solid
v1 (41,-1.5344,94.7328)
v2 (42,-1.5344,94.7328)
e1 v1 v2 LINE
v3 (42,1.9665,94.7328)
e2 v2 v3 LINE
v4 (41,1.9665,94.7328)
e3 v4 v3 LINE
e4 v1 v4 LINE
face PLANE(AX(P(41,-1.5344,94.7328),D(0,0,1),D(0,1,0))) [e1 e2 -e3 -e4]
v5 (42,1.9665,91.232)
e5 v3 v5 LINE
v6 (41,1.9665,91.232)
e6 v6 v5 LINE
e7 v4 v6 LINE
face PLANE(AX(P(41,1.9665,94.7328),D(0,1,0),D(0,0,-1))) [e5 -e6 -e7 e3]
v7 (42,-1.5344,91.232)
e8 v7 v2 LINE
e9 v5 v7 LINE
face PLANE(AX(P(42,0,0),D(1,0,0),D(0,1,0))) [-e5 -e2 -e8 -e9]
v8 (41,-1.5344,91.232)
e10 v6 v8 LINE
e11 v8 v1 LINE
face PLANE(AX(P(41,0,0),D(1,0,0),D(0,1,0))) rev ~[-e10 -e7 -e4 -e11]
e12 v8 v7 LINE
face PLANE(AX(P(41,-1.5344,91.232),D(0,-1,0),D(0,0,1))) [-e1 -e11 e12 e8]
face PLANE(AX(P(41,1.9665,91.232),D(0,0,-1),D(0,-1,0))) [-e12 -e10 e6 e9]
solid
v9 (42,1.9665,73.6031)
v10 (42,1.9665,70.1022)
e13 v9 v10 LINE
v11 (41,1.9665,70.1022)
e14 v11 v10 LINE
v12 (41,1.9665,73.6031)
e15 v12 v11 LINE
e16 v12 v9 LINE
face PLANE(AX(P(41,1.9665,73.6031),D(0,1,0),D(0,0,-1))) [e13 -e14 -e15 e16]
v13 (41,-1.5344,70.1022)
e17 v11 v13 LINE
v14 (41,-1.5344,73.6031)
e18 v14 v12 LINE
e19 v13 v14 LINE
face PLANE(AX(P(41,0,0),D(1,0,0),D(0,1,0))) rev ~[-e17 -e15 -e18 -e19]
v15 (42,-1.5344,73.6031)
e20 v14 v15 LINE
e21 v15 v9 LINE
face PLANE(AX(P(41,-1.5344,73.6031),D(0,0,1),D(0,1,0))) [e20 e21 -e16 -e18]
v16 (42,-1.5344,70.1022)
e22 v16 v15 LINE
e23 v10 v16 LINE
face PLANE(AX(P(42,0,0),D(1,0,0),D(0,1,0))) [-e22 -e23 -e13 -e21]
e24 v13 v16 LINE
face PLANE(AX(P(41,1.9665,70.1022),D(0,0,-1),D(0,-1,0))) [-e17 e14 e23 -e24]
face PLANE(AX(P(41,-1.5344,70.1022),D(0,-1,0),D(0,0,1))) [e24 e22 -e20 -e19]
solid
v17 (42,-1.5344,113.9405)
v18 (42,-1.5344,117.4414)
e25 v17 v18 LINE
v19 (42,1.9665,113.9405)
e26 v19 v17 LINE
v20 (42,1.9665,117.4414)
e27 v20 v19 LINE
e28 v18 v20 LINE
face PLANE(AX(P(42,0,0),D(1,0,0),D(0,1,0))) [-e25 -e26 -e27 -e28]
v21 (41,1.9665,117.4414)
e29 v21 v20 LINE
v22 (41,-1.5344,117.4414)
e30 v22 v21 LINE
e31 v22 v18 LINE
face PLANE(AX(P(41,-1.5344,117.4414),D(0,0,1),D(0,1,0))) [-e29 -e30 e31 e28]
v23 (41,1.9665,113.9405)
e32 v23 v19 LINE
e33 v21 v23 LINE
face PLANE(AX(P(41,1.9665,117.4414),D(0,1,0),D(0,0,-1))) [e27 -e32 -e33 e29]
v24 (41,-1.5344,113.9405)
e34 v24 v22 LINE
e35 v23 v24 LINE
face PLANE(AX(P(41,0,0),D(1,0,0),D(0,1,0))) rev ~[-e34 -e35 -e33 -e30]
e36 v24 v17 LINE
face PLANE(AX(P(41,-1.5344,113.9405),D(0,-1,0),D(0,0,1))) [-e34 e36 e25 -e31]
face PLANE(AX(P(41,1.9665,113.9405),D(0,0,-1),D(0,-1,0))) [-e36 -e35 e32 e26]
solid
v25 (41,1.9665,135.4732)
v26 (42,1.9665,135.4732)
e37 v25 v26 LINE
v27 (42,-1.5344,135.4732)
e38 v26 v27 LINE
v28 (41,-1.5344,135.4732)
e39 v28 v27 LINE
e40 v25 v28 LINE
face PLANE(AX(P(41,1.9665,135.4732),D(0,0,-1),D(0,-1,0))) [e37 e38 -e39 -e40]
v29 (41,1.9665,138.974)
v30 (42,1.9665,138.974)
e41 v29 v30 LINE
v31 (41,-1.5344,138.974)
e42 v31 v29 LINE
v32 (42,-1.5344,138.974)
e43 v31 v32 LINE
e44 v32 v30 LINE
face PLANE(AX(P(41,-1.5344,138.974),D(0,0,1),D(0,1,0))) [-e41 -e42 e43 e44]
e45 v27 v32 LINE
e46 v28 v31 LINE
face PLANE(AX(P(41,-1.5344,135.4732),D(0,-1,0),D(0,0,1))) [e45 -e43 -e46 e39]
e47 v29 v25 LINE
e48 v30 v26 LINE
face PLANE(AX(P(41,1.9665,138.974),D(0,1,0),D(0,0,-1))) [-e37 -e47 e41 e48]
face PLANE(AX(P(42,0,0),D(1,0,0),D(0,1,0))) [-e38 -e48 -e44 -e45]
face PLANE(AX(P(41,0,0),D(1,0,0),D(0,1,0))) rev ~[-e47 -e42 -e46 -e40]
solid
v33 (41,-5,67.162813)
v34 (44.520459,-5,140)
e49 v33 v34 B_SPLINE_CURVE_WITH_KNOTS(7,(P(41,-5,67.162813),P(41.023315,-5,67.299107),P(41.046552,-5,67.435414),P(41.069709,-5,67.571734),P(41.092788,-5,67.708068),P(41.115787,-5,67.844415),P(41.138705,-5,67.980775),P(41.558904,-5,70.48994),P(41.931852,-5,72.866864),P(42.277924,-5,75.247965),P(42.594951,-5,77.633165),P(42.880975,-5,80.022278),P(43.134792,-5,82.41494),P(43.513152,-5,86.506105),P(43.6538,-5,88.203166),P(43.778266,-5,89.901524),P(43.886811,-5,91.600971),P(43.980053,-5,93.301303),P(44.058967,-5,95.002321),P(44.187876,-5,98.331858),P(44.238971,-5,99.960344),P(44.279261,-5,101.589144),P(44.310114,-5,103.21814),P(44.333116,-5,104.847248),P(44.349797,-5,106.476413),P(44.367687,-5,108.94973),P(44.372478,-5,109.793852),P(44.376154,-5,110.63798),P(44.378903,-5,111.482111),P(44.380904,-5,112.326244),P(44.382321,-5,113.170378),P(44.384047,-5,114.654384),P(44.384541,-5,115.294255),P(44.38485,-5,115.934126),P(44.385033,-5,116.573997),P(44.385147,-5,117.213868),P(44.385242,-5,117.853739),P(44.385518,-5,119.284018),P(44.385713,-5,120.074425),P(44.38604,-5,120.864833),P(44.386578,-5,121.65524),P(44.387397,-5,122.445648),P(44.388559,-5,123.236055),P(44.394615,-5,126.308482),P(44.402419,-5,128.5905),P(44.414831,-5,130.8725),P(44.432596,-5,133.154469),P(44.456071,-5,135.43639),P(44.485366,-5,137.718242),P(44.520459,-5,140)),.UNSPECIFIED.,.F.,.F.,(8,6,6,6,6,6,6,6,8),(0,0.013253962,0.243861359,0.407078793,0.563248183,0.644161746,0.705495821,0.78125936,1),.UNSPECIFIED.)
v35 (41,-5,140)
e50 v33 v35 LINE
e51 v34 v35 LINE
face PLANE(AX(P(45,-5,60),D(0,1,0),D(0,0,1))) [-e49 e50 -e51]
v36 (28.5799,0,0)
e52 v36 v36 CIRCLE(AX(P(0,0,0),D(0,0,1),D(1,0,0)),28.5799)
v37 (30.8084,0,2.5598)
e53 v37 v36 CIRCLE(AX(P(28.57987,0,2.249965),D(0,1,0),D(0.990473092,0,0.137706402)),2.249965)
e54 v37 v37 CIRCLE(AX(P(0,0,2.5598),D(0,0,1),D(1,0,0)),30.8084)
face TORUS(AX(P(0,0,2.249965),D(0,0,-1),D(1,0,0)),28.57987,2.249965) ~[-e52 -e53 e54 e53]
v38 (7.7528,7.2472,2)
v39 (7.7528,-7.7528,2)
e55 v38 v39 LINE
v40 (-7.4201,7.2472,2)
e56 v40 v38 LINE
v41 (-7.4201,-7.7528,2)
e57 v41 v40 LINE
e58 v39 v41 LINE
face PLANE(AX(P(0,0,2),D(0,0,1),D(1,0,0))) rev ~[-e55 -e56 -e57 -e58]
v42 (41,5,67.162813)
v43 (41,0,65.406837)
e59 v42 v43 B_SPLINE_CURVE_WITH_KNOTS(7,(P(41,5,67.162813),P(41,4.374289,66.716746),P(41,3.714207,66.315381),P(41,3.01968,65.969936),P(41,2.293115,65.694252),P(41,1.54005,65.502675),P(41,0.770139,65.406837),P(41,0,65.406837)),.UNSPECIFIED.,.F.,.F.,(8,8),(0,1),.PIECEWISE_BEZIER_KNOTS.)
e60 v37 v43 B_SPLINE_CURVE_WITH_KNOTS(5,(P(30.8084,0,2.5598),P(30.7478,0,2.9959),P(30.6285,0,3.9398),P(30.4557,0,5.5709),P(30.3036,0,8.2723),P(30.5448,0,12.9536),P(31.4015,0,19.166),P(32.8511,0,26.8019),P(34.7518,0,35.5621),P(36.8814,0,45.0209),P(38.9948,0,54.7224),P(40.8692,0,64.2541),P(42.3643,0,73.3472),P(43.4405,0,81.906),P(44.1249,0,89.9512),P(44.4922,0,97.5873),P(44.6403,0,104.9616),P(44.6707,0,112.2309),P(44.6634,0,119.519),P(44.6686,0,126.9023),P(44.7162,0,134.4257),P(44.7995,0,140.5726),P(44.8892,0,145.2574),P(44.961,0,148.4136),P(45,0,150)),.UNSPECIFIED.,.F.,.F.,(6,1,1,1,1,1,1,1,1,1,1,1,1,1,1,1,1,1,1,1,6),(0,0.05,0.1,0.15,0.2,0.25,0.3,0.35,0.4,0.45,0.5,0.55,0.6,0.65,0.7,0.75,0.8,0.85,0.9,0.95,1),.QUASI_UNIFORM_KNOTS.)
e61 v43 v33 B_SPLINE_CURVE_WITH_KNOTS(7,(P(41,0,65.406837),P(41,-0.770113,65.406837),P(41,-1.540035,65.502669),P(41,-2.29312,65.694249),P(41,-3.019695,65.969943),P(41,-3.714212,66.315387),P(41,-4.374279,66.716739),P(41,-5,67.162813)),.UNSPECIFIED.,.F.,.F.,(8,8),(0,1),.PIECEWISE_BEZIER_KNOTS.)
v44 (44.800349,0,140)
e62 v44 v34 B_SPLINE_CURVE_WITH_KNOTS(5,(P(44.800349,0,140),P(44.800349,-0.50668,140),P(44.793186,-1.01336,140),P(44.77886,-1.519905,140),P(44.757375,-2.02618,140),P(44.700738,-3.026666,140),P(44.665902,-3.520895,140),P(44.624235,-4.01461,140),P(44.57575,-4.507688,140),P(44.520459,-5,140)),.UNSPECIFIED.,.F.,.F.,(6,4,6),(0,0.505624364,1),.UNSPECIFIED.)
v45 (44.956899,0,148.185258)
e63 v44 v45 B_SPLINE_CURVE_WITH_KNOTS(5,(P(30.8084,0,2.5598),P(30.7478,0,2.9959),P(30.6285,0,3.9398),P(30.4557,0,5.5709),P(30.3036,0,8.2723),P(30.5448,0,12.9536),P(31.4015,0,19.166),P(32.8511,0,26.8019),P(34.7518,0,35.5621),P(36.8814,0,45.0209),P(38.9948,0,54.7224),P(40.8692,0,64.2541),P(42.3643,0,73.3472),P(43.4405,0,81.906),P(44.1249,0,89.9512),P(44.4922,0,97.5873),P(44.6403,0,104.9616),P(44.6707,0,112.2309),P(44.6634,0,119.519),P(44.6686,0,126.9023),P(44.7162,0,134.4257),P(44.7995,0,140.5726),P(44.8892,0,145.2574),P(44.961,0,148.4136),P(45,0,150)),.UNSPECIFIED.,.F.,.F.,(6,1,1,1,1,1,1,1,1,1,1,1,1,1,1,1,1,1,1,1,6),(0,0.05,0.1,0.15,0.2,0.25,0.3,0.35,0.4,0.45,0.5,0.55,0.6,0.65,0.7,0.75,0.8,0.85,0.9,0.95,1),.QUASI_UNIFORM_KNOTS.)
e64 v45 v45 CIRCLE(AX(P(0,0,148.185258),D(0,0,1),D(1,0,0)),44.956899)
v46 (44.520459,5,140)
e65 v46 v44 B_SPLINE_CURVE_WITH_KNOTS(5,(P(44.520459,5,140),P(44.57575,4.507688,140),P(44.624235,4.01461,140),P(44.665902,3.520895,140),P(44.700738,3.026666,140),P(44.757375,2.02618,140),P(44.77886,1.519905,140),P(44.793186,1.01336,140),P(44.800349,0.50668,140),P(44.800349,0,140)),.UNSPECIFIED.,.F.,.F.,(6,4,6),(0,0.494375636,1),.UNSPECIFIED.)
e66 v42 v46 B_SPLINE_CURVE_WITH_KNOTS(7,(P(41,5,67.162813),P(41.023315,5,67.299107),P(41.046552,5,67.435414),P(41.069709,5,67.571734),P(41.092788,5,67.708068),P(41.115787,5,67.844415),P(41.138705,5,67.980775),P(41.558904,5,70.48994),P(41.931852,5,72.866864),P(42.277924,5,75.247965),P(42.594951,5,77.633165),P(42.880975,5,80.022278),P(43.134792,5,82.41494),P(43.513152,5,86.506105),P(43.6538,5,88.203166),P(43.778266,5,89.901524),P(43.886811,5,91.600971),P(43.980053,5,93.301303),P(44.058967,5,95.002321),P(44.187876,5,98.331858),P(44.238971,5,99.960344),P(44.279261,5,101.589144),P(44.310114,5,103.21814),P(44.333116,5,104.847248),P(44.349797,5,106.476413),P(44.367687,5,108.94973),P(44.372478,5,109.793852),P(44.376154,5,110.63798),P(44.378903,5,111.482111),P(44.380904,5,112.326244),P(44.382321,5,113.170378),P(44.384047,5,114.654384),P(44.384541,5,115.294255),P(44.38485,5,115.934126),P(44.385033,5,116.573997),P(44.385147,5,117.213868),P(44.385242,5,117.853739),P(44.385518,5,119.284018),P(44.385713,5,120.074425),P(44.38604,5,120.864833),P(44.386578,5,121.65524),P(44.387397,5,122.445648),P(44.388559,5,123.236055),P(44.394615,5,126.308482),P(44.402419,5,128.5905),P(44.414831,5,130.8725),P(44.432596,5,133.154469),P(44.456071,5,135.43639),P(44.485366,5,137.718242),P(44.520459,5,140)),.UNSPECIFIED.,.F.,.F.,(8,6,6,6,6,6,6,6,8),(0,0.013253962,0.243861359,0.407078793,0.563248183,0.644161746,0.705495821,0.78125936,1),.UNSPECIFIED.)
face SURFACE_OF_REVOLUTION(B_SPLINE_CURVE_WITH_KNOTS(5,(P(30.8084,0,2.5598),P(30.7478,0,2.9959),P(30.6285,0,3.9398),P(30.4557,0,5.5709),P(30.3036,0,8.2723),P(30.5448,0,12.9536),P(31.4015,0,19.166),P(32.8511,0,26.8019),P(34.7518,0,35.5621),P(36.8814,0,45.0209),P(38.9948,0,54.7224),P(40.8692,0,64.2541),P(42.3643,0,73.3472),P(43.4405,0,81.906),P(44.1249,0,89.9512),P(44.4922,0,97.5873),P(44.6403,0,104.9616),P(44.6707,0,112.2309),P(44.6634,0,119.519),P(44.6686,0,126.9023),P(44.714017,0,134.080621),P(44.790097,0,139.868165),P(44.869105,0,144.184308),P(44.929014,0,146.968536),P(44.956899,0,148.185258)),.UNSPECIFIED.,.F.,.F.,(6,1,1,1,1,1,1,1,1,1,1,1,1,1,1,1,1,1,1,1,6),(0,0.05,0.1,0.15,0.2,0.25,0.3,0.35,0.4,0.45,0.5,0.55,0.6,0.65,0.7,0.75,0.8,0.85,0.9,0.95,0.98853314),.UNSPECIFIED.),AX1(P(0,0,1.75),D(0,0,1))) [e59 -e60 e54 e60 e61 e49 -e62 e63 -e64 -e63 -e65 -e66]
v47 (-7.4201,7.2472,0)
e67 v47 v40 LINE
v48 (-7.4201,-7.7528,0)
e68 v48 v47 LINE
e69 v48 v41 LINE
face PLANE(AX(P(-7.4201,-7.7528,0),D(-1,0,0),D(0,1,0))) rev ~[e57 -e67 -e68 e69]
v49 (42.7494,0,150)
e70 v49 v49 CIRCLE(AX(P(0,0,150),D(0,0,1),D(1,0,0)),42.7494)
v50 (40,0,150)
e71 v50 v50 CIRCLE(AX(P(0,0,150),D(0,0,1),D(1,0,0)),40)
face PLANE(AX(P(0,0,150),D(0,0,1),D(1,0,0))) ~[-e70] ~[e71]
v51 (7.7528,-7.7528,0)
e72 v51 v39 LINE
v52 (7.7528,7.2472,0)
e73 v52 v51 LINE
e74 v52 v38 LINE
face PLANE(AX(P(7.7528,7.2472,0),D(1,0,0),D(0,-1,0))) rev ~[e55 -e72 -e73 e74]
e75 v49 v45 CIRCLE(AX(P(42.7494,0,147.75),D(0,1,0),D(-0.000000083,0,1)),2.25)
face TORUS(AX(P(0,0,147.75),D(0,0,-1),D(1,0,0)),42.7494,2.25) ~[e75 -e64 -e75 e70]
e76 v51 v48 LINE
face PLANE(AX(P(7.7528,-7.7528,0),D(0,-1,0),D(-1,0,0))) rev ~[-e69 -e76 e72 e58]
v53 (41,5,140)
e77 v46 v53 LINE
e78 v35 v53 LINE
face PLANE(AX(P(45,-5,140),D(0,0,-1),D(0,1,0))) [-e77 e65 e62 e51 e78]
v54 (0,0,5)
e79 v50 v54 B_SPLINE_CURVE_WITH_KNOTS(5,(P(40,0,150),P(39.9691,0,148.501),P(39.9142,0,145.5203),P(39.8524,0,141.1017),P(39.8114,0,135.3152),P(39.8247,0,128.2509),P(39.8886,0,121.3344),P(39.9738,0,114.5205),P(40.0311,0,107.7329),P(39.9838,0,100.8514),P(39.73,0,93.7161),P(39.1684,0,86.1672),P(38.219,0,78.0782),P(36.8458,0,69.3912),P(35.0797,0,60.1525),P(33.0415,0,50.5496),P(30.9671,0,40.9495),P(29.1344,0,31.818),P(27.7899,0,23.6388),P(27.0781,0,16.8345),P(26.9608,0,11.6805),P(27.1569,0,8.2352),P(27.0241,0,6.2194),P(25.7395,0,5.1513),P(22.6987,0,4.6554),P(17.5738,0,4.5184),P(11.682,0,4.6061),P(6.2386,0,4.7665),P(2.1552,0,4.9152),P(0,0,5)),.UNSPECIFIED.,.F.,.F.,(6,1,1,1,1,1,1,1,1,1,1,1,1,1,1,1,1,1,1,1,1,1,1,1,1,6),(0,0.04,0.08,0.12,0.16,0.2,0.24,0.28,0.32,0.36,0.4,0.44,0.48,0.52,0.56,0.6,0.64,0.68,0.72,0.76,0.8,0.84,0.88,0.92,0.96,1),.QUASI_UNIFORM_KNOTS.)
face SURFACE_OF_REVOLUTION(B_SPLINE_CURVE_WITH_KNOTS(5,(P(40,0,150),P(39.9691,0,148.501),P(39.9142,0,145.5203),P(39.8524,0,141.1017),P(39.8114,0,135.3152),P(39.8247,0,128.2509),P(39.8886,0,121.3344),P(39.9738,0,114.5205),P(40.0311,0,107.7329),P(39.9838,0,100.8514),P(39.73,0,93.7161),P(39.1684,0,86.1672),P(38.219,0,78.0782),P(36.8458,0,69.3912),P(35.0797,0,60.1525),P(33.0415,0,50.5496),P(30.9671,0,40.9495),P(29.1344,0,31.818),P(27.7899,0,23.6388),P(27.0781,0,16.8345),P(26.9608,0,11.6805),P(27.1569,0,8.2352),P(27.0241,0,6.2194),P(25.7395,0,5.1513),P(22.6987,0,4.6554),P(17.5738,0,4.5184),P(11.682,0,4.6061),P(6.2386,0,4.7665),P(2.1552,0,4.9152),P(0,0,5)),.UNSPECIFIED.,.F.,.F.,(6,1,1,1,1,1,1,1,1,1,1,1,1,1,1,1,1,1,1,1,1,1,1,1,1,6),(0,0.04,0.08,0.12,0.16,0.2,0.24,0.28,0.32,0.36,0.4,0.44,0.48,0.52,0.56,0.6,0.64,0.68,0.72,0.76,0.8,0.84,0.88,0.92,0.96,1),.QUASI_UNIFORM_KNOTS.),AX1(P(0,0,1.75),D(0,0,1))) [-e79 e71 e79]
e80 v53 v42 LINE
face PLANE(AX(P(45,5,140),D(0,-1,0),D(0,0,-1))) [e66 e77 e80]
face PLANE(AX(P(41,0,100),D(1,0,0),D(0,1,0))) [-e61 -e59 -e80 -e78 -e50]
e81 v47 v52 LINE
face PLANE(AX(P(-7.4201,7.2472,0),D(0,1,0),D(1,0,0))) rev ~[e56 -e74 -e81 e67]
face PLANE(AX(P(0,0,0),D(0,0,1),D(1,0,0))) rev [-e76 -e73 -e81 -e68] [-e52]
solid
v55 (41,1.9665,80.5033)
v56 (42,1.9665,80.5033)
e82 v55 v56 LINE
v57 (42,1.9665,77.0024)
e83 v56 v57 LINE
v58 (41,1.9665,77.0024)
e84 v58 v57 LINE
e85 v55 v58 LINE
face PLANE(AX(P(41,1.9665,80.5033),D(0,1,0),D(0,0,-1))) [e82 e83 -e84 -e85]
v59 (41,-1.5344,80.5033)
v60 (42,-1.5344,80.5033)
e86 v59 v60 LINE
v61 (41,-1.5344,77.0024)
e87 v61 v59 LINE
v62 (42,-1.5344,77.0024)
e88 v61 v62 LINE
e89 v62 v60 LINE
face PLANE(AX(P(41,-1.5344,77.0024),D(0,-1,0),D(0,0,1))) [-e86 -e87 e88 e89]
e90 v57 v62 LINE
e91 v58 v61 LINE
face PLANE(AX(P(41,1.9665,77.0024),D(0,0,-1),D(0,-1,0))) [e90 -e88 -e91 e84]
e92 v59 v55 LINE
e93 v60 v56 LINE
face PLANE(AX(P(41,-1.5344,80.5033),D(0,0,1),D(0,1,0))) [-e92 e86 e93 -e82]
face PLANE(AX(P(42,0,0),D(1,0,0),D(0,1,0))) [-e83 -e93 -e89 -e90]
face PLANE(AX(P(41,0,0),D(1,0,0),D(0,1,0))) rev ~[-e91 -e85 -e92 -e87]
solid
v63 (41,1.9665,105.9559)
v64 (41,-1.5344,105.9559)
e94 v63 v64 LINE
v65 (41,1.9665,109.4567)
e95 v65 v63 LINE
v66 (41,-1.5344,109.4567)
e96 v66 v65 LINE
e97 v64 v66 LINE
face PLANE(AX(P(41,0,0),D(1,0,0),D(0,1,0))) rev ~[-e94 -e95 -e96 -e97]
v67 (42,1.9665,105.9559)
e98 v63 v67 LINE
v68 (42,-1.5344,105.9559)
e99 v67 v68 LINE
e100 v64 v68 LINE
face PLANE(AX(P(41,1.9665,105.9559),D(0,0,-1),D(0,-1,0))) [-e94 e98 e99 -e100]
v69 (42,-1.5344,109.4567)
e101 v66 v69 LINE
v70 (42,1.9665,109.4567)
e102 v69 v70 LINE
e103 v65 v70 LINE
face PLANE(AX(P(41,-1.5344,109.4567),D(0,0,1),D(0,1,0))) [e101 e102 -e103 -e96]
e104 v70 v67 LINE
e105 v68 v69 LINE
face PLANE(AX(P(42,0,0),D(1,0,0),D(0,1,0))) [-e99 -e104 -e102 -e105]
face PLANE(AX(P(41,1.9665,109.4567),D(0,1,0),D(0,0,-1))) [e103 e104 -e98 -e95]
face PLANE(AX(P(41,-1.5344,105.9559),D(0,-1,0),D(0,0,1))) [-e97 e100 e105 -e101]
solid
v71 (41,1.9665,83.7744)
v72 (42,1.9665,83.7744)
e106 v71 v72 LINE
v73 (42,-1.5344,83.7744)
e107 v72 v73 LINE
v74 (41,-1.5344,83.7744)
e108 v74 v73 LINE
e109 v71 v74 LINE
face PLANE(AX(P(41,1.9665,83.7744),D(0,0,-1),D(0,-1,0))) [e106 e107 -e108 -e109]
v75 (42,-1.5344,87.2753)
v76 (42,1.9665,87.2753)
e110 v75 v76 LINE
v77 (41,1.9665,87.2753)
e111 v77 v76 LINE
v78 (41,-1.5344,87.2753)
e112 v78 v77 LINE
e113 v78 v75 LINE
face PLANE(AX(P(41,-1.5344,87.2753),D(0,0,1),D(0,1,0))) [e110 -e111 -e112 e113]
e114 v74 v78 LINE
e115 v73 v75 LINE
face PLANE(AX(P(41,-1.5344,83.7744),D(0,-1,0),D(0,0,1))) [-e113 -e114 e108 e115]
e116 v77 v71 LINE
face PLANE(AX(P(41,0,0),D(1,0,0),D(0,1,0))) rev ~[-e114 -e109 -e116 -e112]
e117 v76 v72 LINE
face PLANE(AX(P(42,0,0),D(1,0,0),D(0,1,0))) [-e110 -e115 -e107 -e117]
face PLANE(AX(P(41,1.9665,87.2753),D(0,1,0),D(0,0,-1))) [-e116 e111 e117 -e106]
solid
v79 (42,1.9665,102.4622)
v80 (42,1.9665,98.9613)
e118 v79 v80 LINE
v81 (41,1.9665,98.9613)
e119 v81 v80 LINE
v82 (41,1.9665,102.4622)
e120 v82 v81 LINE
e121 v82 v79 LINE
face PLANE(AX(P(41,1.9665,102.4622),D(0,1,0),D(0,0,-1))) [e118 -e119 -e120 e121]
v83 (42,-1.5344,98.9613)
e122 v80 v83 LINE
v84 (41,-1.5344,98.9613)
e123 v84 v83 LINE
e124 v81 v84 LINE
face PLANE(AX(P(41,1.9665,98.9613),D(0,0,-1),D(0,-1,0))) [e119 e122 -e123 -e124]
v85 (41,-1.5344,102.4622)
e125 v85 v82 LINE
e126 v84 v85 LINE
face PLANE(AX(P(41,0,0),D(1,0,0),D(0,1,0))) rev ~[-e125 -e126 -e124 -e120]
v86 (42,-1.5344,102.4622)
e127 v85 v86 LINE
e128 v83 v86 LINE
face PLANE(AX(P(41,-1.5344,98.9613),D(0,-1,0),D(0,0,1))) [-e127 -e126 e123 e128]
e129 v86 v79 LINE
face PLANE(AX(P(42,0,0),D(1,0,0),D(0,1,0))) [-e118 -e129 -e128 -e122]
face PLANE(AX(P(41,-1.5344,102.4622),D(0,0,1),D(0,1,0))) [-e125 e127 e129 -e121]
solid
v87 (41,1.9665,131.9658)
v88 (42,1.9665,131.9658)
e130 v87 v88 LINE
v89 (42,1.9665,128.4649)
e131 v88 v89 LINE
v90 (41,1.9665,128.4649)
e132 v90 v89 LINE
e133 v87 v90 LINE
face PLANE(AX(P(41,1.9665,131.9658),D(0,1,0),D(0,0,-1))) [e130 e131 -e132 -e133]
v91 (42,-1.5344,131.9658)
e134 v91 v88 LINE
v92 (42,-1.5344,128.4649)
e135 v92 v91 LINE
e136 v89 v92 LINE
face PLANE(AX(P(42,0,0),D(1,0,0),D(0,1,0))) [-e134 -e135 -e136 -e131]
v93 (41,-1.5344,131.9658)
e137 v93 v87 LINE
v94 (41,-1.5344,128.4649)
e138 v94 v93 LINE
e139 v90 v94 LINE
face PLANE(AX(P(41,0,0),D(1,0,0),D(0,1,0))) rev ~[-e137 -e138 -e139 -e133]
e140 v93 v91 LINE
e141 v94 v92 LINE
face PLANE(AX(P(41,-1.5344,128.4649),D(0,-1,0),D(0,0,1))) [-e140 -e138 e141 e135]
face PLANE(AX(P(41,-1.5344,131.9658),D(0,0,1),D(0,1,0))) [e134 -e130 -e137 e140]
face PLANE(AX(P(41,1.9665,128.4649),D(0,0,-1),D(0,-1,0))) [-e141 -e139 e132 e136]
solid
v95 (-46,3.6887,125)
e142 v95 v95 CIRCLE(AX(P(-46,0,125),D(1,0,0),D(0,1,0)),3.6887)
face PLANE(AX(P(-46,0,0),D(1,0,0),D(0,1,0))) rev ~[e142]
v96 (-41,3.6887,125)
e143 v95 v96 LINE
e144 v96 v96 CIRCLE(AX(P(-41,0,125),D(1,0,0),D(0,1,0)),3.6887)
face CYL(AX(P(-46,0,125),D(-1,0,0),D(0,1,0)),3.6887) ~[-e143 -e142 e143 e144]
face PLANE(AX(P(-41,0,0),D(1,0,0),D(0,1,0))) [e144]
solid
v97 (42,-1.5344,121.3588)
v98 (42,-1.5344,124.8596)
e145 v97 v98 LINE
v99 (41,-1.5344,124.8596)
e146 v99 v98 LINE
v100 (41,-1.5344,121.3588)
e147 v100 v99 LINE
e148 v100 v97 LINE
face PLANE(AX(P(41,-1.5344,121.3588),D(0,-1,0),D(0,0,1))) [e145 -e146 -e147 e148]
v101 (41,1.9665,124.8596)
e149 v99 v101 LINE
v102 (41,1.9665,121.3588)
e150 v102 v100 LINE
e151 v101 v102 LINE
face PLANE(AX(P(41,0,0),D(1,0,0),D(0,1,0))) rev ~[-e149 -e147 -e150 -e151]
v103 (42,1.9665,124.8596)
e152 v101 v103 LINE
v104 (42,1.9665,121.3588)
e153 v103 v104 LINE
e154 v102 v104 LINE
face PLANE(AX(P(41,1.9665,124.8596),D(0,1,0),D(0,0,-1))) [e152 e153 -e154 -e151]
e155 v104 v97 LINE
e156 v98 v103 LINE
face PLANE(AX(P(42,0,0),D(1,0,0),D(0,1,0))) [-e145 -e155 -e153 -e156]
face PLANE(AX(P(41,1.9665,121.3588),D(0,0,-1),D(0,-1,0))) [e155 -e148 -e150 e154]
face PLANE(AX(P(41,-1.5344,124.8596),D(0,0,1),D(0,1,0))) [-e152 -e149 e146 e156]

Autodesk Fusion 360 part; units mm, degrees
sketch "Sketch3" plane through (0, 0, 95) normal (0, 0, 1) x (-1, 0, 0)
sketch "Sketch4" plane through (0, 0, 0) normal (0, 1, 0) x (1, 0, 0)
  line L0 (0, 0) -> (0.5, 0)
  line L1 (0, 0) -> (0.5, 0)
  line L2 (0.5, 0) -> (28.5799, 0)
  line L3 (0, 0) -> (0, -5)
  line L4 (40, -150) -> (42.7494, -150)
  spline S0 degree 5 poles (30.8084, -2.5598) (30.7478, -2.9959) (30.6285, -3.9398) (30.4557, -5.5709) (30.3036, -8.2723) (30.5448, -12.9536) (31.4015, -19.166) (32.8511, -26.8019) (34.7518, -35.5621) (36.8814, -45.0209) (38.9948, -54.7224) (40.8692, -64.2541) (42.3643, -73.3472) (43.4405, -81.906) (44.1249, -89.9512) (44.4922, -97.5873) (44.6403, -104.9616) (44.6707, -112.2309) (44.6634, -119.519) (44.6686, -126.9023) (44.7162, -134.4257) (44.7995, -140.5726) (44.8892, -145.2574) (44.961, -148.4136) (45, -150) knots 0 0 0 0 0 0 0.05 0.1 0.15 0.2 0.25 0.3 0.35 0.4 0.45 0.5 0.55 0.6 0.65 0.7 0.75 0.8 0.85 0.9 0.95 1 1 1 1 1 1
  arc A0 (30.8084, -2.5598) -> (28.5799, 0) centre (28.5799, -2.25) ccw
  arc A1 (42.7494, -150) -> (44.9994, -147.7487) centre (42.7494, -147.75) ccw
  spline S1 degree 5 poles (40, -150) (39.9691, -148.501) (39.9142, -145.5203) (39.8524, -141.1017) (39.8114, -135.3152) (39.8247, -128.2509) (39.8886, -121.3344) (39.9738, -114.5205) (40.0311, -107.7329) (39.9838, -100.8514) (39.73, -93.7161) (39.1684, -86.1672) (38.219, -78.0782) (36.8458, -69.3912) (35.0797, -60.1525) (33.0415, -50.5496) (30.9671, -40.9495) (29.1344, -31.818) (27.7899, -23.6388) (27.0781, -16.8345) (26.9608, -11.6805) (27.1569, -8.2352) (27.0241, -6.2194) (25.7395, -5.1513) (22.6987, -4.6554) (17.5738, -4.5184) (11.682, -4.6061) (6.2386, -4.7665) (2.1552, -4.9152) (0, -5) knots 0 0 0 0 0 0 0.04 0.08 0.12 0.16 0.2 0.24 0.28 0.32 0.36 0.4 0.44 0.48 0.52 0.56 0.6 0.64 0.68 0.72 0.76 0.8 0.84 0.88 0.92 0.96 1 1 1 1 1 1
  point P0 (30.5, 0)
  point P1 (30.5, -10.9625)
  point P2 (40, -60)
  point P3 (44.6467, -108.7425)
  point P4 (40, -110)
  point P5 (35, -60)
  point P6 (27.0469, -10.7982)
  point P7 (26.3491, -5.9135)
  dimension "d9" = 30
  dimension "d12" = 2.25
revolve "Revolve1" add sketch "Sketch4" angle 360 about axis through (0, 0, 1.75) along (0, 0, 1) makes body 1
sketch "Sketch5" plane through (0, 0, 0) normal (1, 0, 0) x (0, 1, 0)
  line L0 (-5, 140) -> (5, 140)
  line L1 (5, 140) -> (5, 60)
  line L2 (-5, 60) -> (-5, 140)
  dimension "d14" = 80
  dimension "d15" = 10
sketch "Sketch6" plane through (0, 0, 100) normal (1, 0, 0) x (0, 1, 0)
  line L0 (-5, 40) -> (5, 40)
  line L1 (5, 40) -> (5, -40)
  line L2 (5, -40) -> (-5, -40)
  line L3 (-5, -40) -> (-5, 40)
extrude "Extrude3" cut sketch "Sketch6" along normal blind 41 and the other way blind -45 bodies 1
sketch "Sketch7" plane through (41, 0, 0) normal (1, 0, 0) x (0, 1, 0)
  spline S0 degree 3 poles (0, 65.407) (-0.0911, 65.407) (-0.1824, 65.4087) (-1.0234, 65.4406) (-1.7546, 65.5851) (-3.3709, 66.1404) (-4.2183, 66.6057) (-5, 67.1629) knots -0.602881 -0.602881 -0.602881 -0.602881 -0.57542 -0.57542 -0.350239 -0.350239 -0.0625 -0.0625 -0.0625 -0.0625
  spline S1 degree 3 poles (5, 67.1629) (4.8291, 67.0411) (4.655, 66.9236) (3.659, 66.2916) (2.776, 65.8808) (1.2329, 65.4869) (0.6202, 65.407) (0, 65.407) knots -1.14383 -1.14383 -1.14383 -1.14383 -1.080888 -1.080888 -0.789829 -0.789829 -0.602881 -0.602881 -0.602881 -0.602881
  line L0 (5, 67.1629) -> (5, 140)
  line L1 (5, 140) -> (-5, 140)
  line L2 (-5, 140) -> (-5, 67.1629)
  line L3 (-1.5344, 138.974) -> (1.9665, 138.974)
  line L4 (1.9665, 138.974) -> (1.9665, 135.4732)
  line L5 (1.9665, 135.4732) -> (-1.5344, 135.4732)
  line L6 (-1.5344, 135.4732) -> (-1.5344, 138.974)
  line L7 (-1.5344, 131.9658) -> (1.9665, 131.9658)
  line L8 (1.9665, 131.9658) -> (1.9665, 128.4649)
  line L9 (1.9665, 128.4649) -> (-1.5344, 128.4649)
  line L10 (-1.5344, 128.4649) -> (-1.5344, 131.9658)
  line L11 (-1.5344, 124.8596) -> (1.9665, 124.8596)
  line L12 (1.9665, 124.8596) -> (1.9665, 121.3588)
  line L13 (1.9665, 121.3588) -> (-1.5344, 121.3588)
  line L14 (-1.5344, 121.3588) -> (-1.5344, 124.8596)
  line L15 (-1.5344, 117.4414) -> (1.9665, 117.4414)
  line L16 (1.9665, 117.4414) -> (1.9665, 113.9405)
  line L17 (1.9665, 113.9405) -> (-1.5344, 113.9405)
  line L18 (-1.5344, 113.9405) -> (-1.5344, 117.4414)
  line L19 (-1.5344, 109.4567) -> (1.9665, 109.4567)
  line L20 (1.9665, 109.4567) -> (1.9665, 105.9559)
  line L21 (1.9665, 105.9559) -> (-1.5344, 105.9559)
  line L22 (-1.5344, 105.9559) -> (-1.5344, 109.4567)
  line L23 (-1.5344, 102.4622) -> (1.9665, 102.4622)
  line L24 (1.9665, 102.4622) -> (1.9665, 98.9613)
  line L25 (1.9665, 98.9613) -> (-1.5344, 98.9613)
  line L26 (-1.5344, 98.9613) -> (-1.5344, 102.4622)
  line L27 (-1.5344, 94.7328) -> (1.9665, 94.7328)
  line L28 (1.9665, 94.7328) -> (1.9665, 91.232)
  line L29 (1.9665, 91.232) -> (-1.5344, 91.232)
  line L30 (-1.5344, 91.232) -> (-1.5344, 94.7328)
  line L31 (-1.5344, 87.2753) -> (1.9665, 87.2753)
  line L32 (1.9665, 87.2753) -> (1.9665, 83.7744)
  line L33 (1.9665, 83.7744) -> (-1.5344, 83.7744)
  line L34 (-1.5344, 83.7744) -> (-1.5344, 87.2753)
  line L35 (-1.5344, 80.5033) -> (1.9665, 80.5033)
  line L36 (1.9665, 80.5033) -> (1.9665, 77.0024)
  line L37 (1.9665, 77.0024) -> (-1.5344, 77.0024)
  line L38 (-1.5344, 77.0024) -> (-1.5344, 80.5033)
  line L39 (-1.5344, 73.6031) -> (1.9665, 73.6031)
  line L40 (1.9665, 73.6031) -> (1.9665, 70.1022)
  line L41 (1.9665, 70.1022) -> (-1.5344, 70.1022)
  line L42 (-1.5344, 70.1022) -> (-1.5344, 73.6031)
extrude "Extrude4" add sketch "Sketch7" along normal blind 1 separate body contours L3 L4 L5 L6 | L7 L8 L9 L10 | L11 L12 L13 L14 | L15 L16 L17 L18 | L19 L20 L21 L22 | L23 L24 L25 L26 | L27 L28 L29 L30 | L31 L32 L33 L34 | L35 L36 L37 L38 | L39 L40 L41 L42 makes body 2 at (41, -0.3674, 86.1083) makes body 3 at (41, 0.7995, 115.1075) makes body 4 at (41, -0.3674, 136.6401) makes body 5 at (41, -0.3674, 108.2898) makes body 6 at (41, -0.3674, 79.3363) makes body 7 at (41, -0.3674, 93.5659) makes body 8 at (41, 0.7995, 122.5257) makes body 9 at (41, -0.3674, 130.7988) makes body 10 at (41, 0.7995, 100.1283) makes body 11 at (41, -0.3674, 72.4361)
sketch "Sketch8" plane through (0, 0, 0) normal (1, 0, 0) x (0, 1, 0)
sketch "Sketch9" plane through (0, 0, 0) normal (1, 0, 0) x (0, 1, 0)
sketch "Sketch10" plane through (0, 0, 0) normal (0, 0, 1) x (1, 0, 0)
  line L0 (-7.4201, 7.2472) -> (7.7528, 7.2472)
  line L1 (7.7528, 7.2472) -> (7.7528, -7.7528)
  line L2 (7.7528, -7.7528) -> (-7.4201, -7.7528)
  line L3 (-7.4201, -7.7528) -> (-7.4201, 7.2472)
extrude "Extrude5" cut sketch "Sketch10" along normal blind 2 bodies 11 10 9 8 7 6 5 4 3 2 1
sketch "Sketch11" plane through (0, 0, 0) normal (1, 0, 0) x (0, 1, 0)
  circle A0 centre (0, 125) radius 3.6887
extrude "Extrude6" add sketch "Sketch11" along normal blind -41 and the other way blind 46 separate body makes body 12
